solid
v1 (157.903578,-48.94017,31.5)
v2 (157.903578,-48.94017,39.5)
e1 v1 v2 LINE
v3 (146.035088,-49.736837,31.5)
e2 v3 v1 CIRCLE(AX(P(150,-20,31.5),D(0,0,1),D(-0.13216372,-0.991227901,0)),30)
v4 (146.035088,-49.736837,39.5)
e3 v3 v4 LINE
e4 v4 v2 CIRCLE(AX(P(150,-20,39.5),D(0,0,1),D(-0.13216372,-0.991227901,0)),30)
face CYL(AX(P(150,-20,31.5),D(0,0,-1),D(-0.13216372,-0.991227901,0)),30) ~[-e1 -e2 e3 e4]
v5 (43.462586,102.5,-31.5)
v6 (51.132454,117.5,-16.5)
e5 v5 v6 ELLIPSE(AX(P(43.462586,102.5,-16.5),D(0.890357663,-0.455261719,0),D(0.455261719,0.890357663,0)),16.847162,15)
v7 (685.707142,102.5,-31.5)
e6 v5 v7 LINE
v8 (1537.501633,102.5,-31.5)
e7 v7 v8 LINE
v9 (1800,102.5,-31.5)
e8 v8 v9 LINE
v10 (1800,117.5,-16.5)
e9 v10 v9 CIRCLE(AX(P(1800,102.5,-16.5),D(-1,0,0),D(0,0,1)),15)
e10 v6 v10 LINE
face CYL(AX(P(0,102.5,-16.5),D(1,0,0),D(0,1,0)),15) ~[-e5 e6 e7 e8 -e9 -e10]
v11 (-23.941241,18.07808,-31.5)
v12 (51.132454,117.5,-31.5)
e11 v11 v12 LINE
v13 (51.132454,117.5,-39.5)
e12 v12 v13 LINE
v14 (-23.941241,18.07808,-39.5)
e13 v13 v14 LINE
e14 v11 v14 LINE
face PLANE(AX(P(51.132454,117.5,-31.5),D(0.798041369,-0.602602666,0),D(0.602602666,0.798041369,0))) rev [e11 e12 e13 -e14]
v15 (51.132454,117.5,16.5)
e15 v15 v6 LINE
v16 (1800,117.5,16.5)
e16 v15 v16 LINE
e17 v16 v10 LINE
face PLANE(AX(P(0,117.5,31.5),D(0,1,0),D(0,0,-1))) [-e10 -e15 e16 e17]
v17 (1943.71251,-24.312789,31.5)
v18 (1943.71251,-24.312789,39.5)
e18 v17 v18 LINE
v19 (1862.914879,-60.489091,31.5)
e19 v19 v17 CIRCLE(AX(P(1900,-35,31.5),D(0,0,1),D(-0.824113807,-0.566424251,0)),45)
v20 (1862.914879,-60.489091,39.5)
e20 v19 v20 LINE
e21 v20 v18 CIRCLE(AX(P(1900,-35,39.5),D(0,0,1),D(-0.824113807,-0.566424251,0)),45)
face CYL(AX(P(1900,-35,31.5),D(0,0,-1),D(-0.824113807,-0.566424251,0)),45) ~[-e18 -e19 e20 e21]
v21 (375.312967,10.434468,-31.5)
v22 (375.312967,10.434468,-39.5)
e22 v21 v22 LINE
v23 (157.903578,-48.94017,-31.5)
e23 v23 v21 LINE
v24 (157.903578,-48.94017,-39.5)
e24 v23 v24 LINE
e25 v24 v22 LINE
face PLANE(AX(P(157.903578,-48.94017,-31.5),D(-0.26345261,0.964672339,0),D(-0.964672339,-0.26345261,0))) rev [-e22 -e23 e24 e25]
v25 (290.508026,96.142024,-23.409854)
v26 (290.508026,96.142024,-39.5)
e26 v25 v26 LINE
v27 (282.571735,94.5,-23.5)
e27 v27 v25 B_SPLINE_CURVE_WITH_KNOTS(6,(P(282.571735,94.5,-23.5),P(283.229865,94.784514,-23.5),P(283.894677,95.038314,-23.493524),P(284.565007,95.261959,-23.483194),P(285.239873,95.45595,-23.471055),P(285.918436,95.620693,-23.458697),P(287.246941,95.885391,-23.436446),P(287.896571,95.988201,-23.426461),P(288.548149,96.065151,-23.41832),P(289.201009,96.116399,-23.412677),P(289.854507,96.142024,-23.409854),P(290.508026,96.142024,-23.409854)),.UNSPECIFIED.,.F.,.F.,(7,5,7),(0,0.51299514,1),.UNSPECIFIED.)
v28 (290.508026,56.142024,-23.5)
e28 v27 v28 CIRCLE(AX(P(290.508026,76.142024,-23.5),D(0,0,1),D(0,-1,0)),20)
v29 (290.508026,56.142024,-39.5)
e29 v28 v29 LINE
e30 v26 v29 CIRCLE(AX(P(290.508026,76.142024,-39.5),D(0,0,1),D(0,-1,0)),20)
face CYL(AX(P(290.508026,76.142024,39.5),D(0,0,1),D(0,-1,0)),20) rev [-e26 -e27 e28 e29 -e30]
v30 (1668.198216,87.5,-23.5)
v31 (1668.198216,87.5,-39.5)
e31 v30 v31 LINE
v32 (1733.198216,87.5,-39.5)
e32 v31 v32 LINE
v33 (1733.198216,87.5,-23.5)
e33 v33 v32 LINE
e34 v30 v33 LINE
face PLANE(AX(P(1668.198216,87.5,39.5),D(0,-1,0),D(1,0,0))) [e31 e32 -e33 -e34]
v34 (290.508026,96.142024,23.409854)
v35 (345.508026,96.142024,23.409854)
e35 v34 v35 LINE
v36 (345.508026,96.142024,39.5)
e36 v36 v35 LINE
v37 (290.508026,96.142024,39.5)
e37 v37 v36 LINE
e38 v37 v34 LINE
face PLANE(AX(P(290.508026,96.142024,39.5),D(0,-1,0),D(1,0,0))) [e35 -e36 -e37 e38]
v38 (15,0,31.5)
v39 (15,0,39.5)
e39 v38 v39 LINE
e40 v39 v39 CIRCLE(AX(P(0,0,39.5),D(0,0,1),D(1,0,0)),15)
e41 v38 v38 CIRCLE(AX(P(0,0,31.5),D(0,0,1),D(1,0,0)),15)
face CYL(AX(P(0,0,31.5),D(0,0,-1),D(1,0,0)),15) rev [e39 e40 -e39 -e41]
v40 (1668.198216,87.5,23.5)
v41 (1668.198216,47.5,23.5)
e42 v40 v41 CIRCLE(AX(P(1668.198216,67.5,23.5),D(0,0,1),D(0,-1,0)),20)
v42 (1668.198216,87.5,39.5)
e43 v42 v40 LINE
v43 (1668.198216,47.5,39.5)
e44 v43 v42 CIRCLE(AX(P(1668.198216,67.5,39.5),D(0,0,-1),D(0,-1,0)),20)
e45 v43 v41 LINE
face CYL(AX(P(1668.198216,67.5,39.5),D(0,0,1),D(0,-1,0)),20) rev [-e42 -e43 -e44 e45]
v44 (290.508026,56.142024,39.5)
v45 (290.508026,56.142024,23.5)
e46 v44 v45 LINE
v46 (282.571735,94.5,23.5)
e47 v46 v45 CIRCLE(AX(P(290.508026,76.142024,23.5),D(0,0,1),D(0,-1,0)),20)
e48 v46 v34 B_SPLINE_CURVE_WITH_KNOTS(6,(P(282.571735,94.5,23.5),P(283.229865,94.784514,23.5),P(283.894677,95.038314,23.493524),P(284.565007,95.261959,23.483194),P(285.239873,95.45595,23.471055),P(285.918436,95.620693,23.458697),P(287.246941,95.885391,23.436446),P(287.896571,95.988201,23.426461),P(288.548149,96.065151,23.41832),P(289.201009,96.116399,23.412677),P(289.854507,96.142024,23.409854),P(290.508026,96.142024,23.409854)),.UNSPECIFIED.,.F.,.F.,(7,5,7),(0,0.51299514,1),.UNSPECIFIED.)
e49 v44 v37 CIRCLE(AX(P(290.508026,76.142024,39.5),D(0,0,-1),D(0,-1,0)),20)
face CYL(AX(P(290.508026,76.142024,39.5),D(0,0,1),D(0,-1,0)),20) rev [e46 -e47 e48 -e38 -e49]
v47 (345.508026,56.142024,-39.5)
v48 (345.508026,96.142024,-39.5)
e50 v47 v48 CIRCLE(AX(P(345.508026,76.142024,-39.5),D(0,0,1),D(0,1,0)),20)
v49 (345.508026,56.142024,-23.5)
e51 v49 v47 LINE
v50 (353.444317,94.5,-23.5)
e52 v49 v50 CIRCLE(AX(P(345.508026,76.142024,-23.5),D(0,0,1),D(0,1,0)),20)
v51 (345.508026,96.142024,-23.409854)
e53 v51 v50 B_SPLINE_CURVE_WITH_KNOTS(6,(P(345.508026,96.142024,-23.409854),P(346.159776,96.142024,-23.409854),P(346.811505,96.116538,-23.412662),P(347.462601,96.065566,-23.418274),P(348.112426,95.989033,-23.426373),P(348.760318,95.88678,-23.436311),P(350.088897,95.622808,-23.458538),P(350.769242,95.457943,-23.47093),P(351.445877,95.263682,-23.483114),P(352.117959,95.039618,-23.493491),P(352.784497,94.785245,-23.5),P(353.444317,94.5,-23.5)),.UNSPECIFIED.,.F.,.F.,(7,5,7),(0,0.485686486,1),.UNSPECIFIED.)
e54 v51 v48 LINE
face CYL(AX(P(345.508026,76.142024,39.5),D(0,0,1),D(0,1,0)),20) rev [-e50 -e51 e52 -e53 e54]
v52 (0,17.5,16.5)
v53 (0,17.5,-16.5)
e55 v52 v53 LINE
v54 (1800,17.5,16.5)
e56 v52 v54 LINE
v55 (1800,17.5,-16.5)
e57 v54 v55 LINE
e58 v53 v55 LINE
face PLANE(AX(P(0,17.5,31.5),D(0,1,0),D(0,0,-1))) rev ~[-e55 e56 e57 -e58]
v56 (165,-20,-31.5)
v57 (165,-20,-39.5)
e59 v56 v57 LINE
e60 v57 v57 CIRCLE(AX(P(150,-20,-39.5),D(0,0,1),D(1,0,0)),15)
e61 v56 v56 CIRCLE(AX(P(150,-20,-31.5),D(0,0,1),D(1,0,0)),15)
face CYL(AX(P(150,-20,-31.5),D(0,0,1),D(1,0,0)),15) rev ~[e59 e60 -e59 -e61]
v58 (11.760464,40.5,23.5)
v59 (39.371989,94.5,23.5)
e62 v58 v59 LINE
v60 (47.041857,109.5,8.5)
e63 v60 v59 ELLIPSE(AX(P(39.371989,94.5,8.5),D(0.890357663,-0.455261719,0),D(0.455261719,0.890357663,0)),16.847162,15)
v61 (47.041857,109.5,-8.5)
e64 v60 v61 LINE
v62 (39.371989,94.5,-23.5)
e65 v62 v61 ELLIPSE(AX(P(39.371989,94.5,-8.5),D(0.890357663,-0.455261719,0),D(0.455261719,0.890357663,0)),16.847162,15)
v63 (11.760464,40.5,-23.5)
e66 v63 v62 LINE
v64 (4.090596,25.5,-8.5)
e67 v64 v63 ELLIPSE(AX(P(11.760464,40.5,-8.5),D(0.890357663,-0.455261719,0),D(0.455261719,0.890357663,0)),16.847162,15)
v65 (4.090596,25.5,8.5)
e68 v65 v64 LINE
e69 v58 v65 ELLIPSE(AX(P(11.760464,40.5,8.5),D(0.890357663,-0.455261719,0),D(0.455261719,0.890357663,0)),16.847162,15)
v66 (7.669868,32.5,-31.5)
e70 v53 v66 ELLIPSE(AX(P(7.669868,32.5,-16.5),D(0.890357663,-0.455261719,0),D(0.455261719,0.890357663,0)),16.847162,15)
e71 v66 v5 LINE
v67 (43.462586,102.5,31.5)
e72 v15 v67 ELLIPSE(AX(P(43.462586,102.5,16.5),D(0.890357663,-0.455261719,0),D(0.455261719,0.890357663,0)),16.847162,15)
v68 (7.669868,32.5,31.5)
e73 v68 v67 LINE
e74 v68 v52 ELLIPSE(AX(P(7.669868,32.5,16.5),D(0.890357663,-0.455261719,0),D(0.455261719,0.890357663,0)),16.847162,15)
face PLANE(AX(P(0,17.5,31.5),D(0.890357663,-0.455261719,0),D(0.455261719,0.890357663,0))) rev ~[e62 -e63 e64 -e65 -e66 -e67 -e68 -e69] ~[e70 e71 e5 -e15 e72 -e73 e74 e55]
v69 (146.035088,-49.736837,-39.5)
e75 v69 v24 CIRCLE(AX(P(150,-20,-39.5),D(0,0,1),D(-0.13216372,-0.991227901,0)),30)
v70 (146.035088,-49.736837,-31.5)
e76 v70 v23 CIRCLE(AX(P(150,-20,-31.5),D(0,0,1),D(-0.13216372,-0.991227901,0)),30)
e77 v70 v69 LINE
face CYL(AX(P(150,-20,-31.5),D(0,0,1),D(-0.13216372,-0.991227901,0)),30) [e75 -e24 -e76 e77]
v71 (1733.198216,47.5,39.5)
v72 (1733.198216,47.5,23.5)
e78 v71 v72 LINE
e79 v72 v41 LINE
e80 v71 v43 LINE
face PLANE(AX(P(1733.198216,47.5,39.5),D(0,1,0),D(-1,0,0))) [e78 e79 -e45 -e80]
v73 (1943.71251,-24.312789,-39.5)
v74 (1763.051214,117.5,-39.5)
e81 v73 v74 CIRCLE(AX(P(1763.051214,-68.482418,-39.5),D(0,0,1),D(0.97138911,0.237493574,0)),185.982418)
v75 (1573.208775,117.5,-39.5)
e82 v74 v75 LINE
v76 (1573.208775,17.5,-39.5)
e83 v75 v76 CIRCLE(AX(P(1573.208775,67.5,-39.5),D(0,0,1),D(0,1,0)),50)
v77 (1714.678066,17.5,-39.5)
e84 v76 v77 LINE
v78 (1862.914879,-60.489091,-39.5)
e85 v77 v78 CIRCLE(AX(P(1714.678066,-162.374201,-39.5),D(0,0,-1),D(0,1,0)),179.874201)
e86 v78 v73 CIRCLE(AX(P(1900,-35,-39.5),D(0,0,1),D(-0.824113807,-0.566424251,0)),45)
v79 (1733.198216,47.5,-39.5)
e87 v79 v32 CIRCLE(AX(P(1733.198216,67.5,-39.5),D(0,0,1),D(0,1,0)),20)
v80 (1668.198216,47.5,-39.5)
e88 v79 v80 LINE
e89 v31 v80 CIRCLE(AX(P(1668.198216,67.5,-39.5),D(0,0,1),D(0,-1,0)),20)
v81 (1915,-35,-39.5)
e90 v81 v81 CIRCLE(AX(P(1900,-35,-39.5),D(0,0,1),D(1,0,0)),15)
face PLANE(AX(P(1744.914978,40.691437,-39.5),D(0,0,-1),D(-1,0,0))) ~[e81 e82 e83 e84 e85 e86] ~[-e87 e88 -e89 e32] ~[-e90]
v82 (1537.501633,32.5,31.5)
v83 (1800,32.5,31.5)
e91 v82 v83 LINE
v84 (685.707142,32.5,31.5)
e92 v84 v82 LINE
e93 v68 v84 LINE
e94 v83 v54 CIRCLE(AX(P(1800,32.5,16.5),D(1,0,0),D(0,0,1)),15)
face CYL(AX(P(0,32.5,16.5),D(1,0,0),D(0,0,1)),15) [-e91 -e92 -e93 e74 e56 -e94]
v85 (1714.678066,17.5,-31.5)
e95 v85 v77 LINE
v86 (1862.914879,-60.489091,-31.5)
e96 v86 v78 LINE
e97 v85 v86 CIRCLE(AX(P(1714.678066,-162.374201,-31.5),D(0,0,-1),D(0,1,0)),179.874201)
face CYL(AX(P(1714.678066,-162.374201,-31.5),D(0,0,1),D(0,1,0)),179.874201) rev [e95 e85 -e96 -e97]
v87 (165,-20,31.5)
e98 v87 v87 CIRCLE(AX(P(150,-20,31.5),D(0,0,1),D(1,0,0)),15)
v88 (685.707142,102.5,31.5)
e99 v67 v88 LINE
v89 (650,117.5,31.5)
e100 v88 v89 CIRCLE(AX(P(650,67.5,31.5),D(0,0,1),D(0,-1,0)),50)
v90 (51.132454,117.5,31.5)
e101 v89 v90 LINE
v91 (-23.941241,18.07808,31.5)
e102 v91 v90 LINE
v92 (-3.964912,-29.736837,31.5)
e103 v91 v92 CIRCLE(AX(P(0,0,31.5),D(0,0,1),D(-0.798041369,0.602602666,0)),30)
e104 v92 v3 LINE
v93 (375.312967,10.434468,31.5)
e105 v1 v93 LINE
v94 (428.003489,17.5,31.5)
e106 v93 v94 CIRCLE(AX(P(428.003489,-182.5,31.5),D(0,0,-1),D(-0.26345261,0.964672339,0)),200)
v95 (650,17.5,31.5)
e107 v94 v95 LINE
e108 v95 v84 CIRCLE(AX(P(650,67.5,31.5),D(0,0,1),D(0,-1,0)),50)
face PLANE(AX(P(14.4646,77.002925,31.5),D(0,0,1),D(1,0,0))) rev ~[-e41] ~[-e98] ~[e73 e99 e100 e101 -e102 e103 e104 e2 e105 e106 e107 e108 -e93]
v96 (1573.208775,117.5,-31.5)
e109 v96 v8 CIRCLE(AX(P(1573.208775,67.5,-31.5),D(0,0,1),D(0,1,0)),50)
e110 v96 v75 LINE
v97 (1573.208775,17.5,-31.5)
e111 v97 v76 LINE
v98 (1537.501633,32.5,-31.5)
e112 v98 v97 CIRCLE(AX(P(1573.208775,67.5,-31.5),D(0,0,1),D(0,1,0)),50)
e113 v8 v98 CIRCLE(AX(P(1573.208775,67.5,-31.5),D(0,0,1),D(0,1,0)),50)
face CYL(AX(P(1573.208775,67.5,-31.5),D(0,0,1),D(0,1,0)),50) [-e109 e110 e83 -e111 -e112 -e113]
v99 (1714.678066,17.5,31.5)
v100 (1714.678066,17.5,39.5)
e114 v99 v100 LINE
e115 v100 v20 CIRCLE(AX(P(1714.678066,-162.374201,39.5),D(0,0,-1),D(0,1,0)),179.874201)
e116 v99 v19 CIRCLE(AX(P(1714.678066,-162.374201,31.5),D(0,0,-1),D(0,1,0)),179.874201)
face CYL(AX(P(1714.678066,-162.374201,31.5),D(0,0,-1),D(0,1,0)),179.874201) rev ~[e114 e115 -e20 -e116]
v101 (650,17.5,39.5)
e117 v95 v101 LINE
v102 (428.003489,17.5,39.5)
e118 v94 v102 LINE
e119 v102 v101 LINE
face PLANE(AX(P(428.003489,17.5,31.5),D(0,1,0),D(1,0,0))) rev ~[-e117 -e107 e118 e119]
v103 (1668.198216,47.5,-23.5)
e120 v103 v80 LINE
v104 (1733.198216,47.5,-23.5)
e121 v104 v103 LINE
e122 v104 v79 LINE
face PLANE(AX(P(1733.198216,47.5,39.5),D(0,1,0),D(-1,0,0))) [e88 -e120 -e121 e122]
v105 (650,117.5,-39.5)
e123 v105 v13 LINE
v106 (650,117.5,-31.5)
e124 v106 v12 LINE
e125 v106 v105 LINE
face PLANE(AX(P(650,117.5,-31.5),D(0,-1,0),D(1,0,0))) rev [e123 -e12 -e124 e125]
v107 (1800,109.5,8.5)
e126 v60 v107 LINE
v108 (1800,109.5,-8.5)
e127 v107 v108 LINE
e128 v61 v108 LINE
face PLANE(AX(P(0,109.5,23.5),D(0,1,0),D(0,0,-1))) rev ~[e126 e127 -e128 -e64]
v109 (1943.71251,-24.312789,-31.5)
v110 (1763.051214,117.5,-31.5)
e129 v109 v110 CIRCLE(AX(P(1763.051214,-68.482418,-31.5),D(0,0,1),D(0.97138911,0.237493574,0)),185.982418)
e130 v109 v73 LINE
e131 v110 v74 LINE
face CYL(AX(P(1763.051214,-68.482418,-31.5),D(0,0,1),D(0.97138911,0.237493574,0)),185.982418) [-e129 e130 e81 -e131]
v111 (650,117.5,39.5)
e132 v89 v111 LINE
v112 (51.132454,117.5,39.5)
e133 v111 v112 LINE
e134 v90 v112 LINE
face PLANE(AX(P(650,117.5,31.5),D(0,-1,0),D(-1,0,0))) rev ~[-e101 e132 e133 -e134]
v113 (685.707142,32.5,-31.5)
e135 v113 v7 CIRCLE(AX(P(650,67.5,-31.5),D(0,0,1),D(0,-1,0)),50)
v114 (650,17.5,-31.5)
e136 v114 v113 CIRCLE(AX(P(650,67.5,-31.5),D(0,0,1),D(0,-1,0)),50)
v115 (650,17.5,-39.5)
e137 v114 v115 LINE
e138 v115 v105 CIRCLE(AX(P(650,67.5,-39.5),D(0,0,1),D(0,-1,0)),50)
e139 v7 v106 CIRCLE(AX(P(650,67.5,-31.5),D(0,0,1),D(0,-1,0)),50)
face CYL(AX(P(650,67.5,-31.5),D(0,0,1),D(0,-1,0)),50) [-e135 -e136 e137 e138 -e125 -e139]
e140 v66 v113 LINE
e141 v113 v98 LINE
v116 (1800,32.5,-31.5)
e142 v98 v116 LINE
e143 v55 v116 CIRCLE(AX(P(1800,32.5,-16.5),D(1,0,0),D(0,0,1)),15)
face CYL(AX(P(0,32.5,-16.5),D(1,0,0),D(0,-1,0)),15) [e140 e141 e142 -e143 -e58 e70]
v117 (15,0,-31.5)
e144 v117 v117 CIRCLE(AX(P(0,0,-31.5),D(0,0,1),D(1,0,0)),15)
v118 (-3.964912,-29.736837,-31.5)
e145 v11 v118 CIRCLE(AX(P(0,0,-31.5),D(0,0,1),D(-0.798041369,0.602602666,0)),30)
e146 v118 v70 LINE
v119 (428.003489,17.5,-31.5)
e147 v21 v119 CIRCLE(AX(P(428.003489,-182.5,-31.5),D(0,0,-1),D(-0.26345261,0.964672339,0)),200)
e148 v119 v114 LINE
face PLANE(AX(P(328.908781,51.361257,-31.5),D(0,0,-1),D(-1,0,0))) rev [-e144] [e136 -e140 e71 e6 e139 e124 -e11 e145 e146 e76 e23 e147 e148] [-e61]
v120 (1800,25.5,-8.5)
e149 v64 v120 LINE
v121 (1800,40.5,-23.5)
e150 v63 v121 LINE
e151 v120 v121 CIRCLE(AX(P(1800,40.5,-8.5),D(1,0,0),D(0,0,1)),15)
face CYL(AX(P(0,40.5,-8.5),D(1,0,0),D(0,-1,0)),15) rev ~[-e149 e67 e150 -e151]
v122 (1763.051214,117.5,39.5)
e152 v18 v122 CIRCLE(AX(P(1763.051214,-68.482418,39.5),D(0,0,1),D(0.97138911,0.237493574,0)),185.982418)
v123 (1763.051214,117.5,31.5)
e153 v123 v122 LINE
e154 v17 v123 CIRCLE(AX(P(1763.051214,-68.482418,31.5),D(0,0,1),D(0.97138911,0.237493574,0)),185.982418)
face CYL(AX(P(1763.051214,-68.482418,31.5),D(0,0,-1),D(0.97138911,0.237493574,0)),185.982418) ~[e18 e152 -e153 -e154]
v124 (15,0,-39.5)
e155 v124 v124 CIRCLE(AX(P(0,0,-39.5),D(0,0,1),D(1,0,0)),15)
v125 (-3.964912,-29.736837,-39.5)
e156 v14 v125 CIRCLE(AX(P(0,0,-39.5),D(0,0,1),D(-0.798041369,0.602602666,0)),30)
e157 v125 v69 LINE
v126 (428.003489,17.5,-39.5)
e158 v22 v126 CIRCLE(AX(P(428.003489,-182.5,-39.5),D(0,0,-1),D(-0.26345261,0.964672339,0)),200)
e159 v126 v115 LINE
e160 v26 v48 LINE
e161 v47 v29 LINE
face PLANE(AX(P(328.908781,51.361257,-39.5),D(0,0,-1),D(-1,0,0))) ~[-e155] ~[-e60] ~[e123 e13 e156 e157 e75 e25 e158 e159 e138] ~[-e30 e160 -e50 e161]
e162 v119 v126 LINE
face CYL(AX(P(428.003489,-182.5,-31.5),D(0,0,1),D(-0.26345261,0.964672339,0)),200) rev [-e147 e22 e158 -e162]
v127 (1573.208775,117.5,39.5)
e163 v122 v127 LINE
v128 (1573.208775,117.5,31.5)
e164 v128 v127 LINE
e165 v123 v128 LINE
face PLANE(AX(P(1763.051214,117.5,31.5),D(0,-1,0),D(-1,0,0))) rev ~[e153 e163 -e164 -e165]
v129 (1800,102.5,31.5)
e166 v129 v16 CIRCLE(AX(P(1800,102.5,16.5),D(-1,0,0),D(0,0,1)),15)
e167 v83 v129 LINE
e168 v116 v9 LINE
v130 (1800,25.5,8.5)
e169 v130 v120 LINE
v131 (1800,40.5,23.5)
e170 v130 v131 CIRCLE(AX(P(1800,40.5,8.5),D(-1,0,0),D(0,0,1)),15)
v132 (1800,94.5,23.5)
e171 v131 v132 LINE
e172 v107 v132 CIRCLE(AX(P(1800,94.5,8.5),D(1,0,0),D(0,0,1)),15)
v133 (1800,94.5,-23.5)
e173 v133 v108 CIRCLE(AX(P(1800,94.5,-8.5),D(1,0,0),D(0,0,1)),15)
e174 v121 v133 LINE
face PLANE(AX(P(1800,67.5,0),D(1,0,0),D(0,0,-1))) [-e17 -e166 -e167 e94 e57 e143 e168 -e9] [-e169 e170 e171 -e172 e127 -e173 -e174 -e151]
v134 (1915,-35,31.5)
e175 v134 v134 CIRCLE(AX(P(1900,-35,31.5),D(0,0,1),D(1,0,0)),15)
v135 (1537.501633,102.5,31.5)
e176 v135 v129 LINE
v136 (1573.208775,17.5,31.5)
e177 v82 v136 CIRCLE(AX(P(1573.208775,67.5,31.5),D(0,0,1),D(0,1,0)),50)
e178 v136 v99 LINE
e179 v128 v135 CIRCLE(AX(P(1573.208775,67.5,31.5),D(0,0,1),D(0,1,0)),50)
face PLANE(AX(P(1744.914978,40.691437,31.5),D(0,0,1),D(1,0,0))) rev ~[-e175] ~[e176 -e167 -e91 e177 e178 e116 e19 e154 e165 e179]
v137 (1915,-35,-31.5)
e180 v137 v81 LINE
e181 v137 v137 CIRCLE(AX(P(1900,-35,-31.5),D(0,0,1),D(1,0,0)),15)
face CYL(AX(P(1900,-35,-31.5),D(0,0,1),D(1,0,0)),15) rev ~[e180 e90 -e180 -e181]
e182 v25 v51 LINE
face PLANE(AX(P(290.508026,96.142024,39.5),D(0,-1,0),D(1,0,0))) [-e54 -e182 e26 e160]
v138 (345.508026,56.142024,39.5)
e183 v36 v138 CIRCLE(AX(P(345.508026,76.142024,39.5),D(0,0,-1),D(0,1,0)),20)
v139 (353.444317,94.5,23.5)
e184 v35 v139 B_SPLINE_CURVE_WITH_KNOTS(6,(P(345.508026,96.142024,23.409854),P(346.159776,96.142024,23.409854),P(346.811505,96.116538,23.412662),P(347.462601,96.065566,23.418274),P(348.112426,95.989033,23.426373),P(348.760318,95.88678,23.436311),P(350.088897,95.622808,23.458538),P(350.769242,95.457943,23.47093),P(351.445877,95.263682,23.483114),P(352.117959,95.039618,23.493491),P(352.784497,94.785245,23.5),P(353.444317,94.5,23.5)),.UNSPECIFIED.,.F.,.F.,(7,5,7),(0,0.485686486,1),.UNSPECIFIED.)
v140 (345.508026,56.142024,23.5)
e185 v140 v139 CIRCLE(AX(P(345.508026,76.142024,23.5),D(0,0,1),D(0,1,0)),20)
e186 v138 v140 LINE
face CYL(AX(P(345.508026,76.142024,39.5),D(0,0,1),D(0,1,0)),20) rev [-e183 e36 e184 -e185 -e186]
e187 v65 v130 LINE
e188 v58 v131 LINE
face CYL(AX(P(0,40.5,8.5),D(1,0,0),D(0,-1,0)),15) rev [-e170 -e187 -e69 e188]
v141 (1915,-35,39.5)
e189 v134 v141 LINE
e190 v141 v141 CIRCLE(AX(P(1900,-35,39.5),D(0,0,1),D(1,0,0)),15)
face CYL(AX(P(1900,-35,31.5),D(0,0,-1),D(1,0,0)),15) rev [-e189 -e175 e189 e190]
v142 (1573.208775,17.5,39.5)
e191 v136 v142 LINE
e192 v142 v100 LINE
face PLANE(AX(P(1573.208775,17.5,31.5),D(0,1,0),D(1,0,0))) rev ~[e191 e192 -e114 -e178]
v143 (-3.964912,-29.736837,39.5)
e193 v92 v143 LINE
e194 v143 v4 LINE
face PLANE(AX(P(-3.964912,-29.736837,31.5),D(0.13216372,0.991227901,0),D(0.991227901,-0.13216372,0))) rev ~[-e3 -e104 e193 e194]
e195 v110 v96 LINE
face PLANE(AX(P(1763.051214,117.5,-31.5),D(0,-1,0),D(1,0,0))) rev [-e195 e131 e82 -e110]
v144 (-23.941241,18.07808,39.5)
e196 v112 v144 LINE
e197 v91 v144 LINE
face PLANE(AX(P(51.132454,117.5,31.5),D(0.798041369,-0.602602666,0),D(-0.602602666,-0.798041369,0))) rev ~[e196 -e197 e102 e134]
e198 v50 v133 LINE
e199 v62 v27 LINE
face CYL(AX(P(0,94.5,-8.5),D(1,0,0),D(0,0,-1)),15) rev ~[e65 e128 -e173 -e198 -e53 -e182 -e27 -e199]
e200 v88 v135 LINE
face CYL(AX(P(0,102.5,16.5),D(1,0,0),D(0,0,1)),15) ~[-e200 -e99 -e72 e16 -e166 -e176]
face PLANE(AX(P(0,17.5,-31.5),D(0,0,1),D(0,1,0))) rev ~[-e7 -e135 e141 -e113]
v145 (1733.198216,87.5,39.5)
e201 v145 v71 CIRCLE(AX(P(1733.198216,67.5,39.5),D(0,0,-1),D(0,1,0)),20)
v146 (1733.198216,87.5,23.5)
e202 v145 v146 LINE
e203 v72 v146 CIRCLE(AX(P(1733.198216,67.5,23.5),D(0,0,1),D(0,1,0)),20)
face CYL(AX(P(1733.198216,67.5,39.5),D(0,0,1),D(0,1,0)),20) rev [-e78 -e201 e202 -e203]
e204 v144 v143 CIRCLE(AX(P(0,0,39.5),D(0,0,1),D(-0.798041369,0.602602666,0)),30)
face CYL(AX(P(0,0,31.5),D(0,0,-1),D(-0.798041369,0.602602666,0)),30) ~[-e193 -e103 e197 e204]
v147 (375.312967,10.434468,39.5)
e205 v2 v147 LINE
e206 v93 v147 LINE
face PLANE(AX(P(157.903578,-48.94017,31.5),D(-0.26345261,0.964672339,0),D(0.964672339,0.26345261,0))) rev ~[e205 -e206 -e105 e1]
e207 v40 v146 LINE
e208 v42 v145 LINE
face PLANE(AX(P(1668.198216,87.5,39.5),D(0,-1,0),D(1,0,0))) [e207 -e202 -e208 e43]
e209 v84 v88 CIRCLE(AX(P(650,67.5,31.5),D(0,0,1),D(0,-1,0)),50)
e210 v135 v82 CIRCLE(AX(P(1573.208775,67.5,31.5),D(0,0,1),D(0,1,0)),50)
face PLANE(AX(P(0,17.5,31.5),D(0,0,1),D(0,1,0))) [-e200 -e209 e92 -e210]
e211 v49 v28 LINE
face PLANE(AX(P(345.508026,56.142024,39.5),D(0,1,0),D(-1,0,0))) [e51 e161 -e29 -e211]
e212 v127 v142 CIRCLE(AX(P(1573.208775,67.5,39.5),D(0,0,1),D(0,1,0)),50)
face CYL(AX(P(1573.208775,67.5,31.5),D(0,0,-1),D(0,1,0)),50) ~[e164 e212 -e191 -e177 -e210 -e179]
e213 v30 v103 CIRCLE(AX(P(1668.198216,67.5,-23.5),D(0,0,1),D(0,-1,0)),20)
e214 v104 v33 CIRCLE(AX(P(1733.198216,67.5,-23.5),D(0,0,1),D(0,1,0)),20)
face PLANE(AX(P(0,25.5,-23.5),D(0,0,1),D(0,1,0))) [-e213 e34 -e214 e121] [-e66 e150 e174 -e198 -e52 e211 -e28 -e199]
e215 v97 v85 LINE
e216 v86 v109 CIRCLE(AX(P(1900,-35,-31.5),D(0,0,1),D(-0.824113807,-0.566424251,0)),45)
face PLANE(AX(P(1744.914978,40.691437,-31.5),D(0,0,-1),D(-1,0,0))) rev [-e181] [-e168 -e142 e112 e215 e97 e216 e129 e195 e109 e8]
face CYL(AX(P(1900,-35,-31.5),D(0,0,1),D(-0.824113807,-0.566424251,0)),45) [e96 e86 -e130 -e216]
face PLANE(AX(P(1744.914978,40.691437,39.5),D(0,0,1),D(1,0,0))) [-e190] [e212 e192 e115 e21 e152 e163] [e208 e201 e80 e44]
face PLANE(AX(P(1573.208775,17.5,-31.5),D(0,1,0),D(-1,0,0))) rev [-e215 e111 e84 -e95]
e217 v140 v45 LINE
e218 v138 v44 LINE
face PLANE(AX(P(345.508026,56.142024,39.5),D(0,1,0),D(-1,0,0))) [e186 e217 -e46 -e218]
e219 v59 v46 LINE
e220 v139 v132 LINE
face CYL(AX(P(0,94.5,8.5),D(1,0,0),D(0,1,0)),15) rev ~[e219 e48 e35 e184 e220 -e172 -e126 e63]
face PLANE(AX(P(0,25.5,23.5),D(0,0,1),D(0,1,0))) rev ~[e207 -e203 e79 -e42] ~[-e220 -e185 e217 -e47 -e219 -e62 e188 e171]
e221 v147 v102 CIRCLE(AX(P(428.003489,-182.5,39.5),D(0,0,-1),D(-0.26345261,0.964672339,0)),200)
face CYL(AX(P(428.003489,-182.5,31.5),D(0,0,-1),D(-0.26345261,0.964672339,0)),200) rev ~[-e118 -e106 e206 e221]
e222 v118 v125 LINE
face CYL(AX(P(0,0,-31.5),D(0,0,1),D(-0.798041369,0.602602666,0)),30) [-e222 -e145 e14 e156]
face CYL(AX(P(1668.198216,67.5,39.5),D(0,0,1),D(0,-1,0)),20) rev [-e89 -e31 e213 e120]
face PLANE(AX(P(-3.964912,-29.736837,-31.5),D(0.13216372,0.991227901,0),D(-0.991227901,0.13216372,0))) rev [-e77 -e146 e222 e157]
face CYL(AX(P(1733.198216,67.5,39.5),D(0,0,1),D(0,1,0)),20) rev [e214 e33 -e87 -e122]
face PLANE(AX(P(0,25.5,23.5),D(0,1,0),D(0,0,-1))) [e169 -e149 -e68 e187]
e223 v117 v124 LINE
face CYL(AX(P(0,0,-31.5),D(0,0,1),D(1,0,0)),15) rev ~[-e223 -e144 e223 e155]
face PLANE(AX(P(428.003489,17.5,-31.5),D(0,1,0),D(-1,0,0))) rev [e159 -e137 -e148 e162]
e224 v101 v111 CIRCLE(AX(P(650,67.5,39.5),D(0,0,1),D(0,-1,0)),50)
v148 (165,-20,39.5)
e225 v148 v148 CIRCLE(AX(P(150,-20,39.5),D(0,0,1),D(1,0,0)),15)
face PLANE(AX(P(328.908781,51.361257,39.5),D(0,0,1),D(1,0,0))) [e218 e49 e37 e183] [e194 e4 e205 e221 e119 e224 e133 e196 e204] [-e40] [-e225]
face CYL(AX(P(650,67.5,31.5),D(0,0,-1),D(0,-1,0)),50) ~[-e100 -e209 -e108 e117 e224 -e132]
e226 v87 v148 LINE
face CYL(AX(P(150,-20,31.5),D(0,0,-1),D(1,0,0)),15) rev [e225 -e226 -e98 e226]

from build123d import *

# Parameters (mm, degrees)
SKETCH3_W           = 63
SKETCH3_H           = 100
SKETCH3_W_2         = 47
SKETCH3_H_2         = 84
BOSS_EXTRUDE1_DEPTH = 1800
FILLET1_R           = 15
SKETCH4_R           = 15
BOSS_EXTRUDE2_DEPTH = 8
CUT_EXTRUDE3_DEPTH  = 80
CUT_EXTRUDE5_DEPTH  = 63
SKETCH8_R           = 15
BOSS_EXTRUDE3_DEPTH = 8
CUT_EXTRUDE6_DEPTH  = 80.0000001


with BuildPart() as part:
    # Sketch3 → Boss-Extrude1 (new body)
    with BuildSketch(Plane(origin=(0, 0, 0), x_dir=(0, 0, -1), z_dir=(1, 0, 0))):
        with Locations((0, 67.5)):
            Rectangle(SKETCH3_W, SKETCH3_H)
        with Locations((0, 67.5)):
            Rectangle(SKETCH3_W_2, SKETCH3_H_2, mode=Mode.SUBTRACT)
    extrude(amount=BOSS_EXTRUDE1_DEPTH)

    # Fillet1
    fillet1_edges = [part.edges().sort_by_distance(p)[0] for p in [
        (900, 109.5, 23.5),
        (900, 25.5, 23.5),
        (900, 25.5, -23.5),
        (900, 109.5, -23.5),
        (900, 17.5, -31.5),
        (900, 17.5, 31.5),
        (900, 117.5, 31.5),
        (900, 117.5, -31.5),
    ]]
    fillet(fillet1_edges, radius=FILLET1_R)

    # Sketch4 → Boss-Extrude2 (add)
    with BuildSketch(Plane.XY.offset(31.5)):
        with BuildLine():
            Line((51.132453633, 117.5), (-23.941241068, 18.07807999))
            ThreePointArc((-23.941241068, 18.07807999), (-27.681309785, -11.564821166), (-3.964911603, -29.73683702))
            Line((-3.964911603, -29.73683702), (146.035088397, -49.73683702))
            ThreePointArc((146.035088397, -49.73683702), (152.009214612, -49.932641992), (157.903578304, -48.940170179))
            Line((157.903578304, -48.940170179), (375.312967218, 10.434467861))
            ThreePointArc((375.312967218, 10.434467861), (401.42242053, 15.725747031), (428.003489242, 17.5))
            Line((428.003489242, 17.5), (650, 17.5))
            ThreePointArc((650, 17.5), (700, 67.5), (650, 117.5))
            Line((650, 117.5), (51.132453633, 117.5))
        make_face()
        Circle(SKETCH4_R, mode=Mode.SUBTRACT)
        with Locations((150, -20)):
            Circle(SKETCH4_R, mode=Mode.SUBTRACT)
    boss_extrude2 = extrude(amount=BOSS_EXTRUDE2_DEPTH)

    # Mirror2: Boss-Extrude2 across plane
    add(boss_extrude2.mirror(Plane.XY))

    # Sketch5 → Cut-Extrude3 (cut, through all)
    with BuildSketch(Plane.XY.offset(39.5)):
        with BuildLine():
            Line((290.508026136, 96.142023945), (345.508026136, 96.142023945))
            ThreePointArc((345.508026136, 96.142023945), (365.508026136, 76.142023945), (345.508026136, 56.142023945))
            Line((345.508026136, 56.142023945), (290.508026136, 56.142023945))
            ThreePointArc((290.508026136, 56.142023945), (270.508026136, 76.142023945), (290.508026136, 96.142023945))
        make_face()
    extrude(amount=-CUT_EXTRUDE3_DEPTH, mode=Mode.SUBTRACT)

    # Sketch7 → Cut-Extrude5 (cut)
    with BuildSketch(Plane.XY.offset(31.5)):
        Polygon((0, 17.5), (51.132453633, 117.5), (-2.794234501, 117.5), (-2.794234501, 17.5), align=None)
    extrude(amount=-CUT_EXTRUDE5_DEPTH, mode=Mode.SUBTRACT)

    # Sketch8 → Boss-Extrude3 (add)
    with BuildSketch(Plane.XY.offset(31.5)):
        with BuildLine():
            Line((1573.208774734, 17.5), (1714.67806612, 17.5))
            ThreePointArc((1714.67806612, 17.5), (1798.428366058, -3.186841446), (1862.91487867, -60.489091313))
            ThreePointArc((1862.91487867, -60.489091313), (1918.389175604, -76.071136101), (1943.712509929, -24.312789154))
            ThreePointArc((1943.712509929, -24.312789154), (1877.887370152, 77.812206283), (1763.051214044, 117.5))
            Line((1763.051214044, 117.5), (1573.208774734, 117.5))
            ThreePointArc((1573.208774734, 117.5), (1523.208774734, 67.5), (1573.208774734, 17.5))
        make_face()
        with Locations((1900, -35)):
            Circle(SKETCH8_R, mode=Mode.SUBTRACT)
    boss_extrude3 = extrude(amount=BOSS_EXTRUDE3_DEPTH)

    # Mirror8: Boss-Extrude3 across plane
    add(boss_extrude3.mirror(Plane.XY))

    # Sketch9 → Cut-Extrude6 (cut, through all)
    with BuildSketch(Plane.XY.offset(39.5)):
        with BuildLine():
            Line((1668.198215583, 87.5), (1733.198215583, 87.5))
            ThreePointArc((1733.198215583, 87.5), (1753.198215583, 67.5), (1733.198215583, 47.5))
            Line((1733.198215583, 47.5), (1668.198215583, 47.5))
            ThreePointArc((1668.198215583, 47.5), (1648.198215583, 67.5), (1668.198215583, 87.5))
        make_face()
    extrude(amount=-CUT_EXTRUDE6_DEPTH, mode=Mode.SUBTRACT)


solid = part.part
